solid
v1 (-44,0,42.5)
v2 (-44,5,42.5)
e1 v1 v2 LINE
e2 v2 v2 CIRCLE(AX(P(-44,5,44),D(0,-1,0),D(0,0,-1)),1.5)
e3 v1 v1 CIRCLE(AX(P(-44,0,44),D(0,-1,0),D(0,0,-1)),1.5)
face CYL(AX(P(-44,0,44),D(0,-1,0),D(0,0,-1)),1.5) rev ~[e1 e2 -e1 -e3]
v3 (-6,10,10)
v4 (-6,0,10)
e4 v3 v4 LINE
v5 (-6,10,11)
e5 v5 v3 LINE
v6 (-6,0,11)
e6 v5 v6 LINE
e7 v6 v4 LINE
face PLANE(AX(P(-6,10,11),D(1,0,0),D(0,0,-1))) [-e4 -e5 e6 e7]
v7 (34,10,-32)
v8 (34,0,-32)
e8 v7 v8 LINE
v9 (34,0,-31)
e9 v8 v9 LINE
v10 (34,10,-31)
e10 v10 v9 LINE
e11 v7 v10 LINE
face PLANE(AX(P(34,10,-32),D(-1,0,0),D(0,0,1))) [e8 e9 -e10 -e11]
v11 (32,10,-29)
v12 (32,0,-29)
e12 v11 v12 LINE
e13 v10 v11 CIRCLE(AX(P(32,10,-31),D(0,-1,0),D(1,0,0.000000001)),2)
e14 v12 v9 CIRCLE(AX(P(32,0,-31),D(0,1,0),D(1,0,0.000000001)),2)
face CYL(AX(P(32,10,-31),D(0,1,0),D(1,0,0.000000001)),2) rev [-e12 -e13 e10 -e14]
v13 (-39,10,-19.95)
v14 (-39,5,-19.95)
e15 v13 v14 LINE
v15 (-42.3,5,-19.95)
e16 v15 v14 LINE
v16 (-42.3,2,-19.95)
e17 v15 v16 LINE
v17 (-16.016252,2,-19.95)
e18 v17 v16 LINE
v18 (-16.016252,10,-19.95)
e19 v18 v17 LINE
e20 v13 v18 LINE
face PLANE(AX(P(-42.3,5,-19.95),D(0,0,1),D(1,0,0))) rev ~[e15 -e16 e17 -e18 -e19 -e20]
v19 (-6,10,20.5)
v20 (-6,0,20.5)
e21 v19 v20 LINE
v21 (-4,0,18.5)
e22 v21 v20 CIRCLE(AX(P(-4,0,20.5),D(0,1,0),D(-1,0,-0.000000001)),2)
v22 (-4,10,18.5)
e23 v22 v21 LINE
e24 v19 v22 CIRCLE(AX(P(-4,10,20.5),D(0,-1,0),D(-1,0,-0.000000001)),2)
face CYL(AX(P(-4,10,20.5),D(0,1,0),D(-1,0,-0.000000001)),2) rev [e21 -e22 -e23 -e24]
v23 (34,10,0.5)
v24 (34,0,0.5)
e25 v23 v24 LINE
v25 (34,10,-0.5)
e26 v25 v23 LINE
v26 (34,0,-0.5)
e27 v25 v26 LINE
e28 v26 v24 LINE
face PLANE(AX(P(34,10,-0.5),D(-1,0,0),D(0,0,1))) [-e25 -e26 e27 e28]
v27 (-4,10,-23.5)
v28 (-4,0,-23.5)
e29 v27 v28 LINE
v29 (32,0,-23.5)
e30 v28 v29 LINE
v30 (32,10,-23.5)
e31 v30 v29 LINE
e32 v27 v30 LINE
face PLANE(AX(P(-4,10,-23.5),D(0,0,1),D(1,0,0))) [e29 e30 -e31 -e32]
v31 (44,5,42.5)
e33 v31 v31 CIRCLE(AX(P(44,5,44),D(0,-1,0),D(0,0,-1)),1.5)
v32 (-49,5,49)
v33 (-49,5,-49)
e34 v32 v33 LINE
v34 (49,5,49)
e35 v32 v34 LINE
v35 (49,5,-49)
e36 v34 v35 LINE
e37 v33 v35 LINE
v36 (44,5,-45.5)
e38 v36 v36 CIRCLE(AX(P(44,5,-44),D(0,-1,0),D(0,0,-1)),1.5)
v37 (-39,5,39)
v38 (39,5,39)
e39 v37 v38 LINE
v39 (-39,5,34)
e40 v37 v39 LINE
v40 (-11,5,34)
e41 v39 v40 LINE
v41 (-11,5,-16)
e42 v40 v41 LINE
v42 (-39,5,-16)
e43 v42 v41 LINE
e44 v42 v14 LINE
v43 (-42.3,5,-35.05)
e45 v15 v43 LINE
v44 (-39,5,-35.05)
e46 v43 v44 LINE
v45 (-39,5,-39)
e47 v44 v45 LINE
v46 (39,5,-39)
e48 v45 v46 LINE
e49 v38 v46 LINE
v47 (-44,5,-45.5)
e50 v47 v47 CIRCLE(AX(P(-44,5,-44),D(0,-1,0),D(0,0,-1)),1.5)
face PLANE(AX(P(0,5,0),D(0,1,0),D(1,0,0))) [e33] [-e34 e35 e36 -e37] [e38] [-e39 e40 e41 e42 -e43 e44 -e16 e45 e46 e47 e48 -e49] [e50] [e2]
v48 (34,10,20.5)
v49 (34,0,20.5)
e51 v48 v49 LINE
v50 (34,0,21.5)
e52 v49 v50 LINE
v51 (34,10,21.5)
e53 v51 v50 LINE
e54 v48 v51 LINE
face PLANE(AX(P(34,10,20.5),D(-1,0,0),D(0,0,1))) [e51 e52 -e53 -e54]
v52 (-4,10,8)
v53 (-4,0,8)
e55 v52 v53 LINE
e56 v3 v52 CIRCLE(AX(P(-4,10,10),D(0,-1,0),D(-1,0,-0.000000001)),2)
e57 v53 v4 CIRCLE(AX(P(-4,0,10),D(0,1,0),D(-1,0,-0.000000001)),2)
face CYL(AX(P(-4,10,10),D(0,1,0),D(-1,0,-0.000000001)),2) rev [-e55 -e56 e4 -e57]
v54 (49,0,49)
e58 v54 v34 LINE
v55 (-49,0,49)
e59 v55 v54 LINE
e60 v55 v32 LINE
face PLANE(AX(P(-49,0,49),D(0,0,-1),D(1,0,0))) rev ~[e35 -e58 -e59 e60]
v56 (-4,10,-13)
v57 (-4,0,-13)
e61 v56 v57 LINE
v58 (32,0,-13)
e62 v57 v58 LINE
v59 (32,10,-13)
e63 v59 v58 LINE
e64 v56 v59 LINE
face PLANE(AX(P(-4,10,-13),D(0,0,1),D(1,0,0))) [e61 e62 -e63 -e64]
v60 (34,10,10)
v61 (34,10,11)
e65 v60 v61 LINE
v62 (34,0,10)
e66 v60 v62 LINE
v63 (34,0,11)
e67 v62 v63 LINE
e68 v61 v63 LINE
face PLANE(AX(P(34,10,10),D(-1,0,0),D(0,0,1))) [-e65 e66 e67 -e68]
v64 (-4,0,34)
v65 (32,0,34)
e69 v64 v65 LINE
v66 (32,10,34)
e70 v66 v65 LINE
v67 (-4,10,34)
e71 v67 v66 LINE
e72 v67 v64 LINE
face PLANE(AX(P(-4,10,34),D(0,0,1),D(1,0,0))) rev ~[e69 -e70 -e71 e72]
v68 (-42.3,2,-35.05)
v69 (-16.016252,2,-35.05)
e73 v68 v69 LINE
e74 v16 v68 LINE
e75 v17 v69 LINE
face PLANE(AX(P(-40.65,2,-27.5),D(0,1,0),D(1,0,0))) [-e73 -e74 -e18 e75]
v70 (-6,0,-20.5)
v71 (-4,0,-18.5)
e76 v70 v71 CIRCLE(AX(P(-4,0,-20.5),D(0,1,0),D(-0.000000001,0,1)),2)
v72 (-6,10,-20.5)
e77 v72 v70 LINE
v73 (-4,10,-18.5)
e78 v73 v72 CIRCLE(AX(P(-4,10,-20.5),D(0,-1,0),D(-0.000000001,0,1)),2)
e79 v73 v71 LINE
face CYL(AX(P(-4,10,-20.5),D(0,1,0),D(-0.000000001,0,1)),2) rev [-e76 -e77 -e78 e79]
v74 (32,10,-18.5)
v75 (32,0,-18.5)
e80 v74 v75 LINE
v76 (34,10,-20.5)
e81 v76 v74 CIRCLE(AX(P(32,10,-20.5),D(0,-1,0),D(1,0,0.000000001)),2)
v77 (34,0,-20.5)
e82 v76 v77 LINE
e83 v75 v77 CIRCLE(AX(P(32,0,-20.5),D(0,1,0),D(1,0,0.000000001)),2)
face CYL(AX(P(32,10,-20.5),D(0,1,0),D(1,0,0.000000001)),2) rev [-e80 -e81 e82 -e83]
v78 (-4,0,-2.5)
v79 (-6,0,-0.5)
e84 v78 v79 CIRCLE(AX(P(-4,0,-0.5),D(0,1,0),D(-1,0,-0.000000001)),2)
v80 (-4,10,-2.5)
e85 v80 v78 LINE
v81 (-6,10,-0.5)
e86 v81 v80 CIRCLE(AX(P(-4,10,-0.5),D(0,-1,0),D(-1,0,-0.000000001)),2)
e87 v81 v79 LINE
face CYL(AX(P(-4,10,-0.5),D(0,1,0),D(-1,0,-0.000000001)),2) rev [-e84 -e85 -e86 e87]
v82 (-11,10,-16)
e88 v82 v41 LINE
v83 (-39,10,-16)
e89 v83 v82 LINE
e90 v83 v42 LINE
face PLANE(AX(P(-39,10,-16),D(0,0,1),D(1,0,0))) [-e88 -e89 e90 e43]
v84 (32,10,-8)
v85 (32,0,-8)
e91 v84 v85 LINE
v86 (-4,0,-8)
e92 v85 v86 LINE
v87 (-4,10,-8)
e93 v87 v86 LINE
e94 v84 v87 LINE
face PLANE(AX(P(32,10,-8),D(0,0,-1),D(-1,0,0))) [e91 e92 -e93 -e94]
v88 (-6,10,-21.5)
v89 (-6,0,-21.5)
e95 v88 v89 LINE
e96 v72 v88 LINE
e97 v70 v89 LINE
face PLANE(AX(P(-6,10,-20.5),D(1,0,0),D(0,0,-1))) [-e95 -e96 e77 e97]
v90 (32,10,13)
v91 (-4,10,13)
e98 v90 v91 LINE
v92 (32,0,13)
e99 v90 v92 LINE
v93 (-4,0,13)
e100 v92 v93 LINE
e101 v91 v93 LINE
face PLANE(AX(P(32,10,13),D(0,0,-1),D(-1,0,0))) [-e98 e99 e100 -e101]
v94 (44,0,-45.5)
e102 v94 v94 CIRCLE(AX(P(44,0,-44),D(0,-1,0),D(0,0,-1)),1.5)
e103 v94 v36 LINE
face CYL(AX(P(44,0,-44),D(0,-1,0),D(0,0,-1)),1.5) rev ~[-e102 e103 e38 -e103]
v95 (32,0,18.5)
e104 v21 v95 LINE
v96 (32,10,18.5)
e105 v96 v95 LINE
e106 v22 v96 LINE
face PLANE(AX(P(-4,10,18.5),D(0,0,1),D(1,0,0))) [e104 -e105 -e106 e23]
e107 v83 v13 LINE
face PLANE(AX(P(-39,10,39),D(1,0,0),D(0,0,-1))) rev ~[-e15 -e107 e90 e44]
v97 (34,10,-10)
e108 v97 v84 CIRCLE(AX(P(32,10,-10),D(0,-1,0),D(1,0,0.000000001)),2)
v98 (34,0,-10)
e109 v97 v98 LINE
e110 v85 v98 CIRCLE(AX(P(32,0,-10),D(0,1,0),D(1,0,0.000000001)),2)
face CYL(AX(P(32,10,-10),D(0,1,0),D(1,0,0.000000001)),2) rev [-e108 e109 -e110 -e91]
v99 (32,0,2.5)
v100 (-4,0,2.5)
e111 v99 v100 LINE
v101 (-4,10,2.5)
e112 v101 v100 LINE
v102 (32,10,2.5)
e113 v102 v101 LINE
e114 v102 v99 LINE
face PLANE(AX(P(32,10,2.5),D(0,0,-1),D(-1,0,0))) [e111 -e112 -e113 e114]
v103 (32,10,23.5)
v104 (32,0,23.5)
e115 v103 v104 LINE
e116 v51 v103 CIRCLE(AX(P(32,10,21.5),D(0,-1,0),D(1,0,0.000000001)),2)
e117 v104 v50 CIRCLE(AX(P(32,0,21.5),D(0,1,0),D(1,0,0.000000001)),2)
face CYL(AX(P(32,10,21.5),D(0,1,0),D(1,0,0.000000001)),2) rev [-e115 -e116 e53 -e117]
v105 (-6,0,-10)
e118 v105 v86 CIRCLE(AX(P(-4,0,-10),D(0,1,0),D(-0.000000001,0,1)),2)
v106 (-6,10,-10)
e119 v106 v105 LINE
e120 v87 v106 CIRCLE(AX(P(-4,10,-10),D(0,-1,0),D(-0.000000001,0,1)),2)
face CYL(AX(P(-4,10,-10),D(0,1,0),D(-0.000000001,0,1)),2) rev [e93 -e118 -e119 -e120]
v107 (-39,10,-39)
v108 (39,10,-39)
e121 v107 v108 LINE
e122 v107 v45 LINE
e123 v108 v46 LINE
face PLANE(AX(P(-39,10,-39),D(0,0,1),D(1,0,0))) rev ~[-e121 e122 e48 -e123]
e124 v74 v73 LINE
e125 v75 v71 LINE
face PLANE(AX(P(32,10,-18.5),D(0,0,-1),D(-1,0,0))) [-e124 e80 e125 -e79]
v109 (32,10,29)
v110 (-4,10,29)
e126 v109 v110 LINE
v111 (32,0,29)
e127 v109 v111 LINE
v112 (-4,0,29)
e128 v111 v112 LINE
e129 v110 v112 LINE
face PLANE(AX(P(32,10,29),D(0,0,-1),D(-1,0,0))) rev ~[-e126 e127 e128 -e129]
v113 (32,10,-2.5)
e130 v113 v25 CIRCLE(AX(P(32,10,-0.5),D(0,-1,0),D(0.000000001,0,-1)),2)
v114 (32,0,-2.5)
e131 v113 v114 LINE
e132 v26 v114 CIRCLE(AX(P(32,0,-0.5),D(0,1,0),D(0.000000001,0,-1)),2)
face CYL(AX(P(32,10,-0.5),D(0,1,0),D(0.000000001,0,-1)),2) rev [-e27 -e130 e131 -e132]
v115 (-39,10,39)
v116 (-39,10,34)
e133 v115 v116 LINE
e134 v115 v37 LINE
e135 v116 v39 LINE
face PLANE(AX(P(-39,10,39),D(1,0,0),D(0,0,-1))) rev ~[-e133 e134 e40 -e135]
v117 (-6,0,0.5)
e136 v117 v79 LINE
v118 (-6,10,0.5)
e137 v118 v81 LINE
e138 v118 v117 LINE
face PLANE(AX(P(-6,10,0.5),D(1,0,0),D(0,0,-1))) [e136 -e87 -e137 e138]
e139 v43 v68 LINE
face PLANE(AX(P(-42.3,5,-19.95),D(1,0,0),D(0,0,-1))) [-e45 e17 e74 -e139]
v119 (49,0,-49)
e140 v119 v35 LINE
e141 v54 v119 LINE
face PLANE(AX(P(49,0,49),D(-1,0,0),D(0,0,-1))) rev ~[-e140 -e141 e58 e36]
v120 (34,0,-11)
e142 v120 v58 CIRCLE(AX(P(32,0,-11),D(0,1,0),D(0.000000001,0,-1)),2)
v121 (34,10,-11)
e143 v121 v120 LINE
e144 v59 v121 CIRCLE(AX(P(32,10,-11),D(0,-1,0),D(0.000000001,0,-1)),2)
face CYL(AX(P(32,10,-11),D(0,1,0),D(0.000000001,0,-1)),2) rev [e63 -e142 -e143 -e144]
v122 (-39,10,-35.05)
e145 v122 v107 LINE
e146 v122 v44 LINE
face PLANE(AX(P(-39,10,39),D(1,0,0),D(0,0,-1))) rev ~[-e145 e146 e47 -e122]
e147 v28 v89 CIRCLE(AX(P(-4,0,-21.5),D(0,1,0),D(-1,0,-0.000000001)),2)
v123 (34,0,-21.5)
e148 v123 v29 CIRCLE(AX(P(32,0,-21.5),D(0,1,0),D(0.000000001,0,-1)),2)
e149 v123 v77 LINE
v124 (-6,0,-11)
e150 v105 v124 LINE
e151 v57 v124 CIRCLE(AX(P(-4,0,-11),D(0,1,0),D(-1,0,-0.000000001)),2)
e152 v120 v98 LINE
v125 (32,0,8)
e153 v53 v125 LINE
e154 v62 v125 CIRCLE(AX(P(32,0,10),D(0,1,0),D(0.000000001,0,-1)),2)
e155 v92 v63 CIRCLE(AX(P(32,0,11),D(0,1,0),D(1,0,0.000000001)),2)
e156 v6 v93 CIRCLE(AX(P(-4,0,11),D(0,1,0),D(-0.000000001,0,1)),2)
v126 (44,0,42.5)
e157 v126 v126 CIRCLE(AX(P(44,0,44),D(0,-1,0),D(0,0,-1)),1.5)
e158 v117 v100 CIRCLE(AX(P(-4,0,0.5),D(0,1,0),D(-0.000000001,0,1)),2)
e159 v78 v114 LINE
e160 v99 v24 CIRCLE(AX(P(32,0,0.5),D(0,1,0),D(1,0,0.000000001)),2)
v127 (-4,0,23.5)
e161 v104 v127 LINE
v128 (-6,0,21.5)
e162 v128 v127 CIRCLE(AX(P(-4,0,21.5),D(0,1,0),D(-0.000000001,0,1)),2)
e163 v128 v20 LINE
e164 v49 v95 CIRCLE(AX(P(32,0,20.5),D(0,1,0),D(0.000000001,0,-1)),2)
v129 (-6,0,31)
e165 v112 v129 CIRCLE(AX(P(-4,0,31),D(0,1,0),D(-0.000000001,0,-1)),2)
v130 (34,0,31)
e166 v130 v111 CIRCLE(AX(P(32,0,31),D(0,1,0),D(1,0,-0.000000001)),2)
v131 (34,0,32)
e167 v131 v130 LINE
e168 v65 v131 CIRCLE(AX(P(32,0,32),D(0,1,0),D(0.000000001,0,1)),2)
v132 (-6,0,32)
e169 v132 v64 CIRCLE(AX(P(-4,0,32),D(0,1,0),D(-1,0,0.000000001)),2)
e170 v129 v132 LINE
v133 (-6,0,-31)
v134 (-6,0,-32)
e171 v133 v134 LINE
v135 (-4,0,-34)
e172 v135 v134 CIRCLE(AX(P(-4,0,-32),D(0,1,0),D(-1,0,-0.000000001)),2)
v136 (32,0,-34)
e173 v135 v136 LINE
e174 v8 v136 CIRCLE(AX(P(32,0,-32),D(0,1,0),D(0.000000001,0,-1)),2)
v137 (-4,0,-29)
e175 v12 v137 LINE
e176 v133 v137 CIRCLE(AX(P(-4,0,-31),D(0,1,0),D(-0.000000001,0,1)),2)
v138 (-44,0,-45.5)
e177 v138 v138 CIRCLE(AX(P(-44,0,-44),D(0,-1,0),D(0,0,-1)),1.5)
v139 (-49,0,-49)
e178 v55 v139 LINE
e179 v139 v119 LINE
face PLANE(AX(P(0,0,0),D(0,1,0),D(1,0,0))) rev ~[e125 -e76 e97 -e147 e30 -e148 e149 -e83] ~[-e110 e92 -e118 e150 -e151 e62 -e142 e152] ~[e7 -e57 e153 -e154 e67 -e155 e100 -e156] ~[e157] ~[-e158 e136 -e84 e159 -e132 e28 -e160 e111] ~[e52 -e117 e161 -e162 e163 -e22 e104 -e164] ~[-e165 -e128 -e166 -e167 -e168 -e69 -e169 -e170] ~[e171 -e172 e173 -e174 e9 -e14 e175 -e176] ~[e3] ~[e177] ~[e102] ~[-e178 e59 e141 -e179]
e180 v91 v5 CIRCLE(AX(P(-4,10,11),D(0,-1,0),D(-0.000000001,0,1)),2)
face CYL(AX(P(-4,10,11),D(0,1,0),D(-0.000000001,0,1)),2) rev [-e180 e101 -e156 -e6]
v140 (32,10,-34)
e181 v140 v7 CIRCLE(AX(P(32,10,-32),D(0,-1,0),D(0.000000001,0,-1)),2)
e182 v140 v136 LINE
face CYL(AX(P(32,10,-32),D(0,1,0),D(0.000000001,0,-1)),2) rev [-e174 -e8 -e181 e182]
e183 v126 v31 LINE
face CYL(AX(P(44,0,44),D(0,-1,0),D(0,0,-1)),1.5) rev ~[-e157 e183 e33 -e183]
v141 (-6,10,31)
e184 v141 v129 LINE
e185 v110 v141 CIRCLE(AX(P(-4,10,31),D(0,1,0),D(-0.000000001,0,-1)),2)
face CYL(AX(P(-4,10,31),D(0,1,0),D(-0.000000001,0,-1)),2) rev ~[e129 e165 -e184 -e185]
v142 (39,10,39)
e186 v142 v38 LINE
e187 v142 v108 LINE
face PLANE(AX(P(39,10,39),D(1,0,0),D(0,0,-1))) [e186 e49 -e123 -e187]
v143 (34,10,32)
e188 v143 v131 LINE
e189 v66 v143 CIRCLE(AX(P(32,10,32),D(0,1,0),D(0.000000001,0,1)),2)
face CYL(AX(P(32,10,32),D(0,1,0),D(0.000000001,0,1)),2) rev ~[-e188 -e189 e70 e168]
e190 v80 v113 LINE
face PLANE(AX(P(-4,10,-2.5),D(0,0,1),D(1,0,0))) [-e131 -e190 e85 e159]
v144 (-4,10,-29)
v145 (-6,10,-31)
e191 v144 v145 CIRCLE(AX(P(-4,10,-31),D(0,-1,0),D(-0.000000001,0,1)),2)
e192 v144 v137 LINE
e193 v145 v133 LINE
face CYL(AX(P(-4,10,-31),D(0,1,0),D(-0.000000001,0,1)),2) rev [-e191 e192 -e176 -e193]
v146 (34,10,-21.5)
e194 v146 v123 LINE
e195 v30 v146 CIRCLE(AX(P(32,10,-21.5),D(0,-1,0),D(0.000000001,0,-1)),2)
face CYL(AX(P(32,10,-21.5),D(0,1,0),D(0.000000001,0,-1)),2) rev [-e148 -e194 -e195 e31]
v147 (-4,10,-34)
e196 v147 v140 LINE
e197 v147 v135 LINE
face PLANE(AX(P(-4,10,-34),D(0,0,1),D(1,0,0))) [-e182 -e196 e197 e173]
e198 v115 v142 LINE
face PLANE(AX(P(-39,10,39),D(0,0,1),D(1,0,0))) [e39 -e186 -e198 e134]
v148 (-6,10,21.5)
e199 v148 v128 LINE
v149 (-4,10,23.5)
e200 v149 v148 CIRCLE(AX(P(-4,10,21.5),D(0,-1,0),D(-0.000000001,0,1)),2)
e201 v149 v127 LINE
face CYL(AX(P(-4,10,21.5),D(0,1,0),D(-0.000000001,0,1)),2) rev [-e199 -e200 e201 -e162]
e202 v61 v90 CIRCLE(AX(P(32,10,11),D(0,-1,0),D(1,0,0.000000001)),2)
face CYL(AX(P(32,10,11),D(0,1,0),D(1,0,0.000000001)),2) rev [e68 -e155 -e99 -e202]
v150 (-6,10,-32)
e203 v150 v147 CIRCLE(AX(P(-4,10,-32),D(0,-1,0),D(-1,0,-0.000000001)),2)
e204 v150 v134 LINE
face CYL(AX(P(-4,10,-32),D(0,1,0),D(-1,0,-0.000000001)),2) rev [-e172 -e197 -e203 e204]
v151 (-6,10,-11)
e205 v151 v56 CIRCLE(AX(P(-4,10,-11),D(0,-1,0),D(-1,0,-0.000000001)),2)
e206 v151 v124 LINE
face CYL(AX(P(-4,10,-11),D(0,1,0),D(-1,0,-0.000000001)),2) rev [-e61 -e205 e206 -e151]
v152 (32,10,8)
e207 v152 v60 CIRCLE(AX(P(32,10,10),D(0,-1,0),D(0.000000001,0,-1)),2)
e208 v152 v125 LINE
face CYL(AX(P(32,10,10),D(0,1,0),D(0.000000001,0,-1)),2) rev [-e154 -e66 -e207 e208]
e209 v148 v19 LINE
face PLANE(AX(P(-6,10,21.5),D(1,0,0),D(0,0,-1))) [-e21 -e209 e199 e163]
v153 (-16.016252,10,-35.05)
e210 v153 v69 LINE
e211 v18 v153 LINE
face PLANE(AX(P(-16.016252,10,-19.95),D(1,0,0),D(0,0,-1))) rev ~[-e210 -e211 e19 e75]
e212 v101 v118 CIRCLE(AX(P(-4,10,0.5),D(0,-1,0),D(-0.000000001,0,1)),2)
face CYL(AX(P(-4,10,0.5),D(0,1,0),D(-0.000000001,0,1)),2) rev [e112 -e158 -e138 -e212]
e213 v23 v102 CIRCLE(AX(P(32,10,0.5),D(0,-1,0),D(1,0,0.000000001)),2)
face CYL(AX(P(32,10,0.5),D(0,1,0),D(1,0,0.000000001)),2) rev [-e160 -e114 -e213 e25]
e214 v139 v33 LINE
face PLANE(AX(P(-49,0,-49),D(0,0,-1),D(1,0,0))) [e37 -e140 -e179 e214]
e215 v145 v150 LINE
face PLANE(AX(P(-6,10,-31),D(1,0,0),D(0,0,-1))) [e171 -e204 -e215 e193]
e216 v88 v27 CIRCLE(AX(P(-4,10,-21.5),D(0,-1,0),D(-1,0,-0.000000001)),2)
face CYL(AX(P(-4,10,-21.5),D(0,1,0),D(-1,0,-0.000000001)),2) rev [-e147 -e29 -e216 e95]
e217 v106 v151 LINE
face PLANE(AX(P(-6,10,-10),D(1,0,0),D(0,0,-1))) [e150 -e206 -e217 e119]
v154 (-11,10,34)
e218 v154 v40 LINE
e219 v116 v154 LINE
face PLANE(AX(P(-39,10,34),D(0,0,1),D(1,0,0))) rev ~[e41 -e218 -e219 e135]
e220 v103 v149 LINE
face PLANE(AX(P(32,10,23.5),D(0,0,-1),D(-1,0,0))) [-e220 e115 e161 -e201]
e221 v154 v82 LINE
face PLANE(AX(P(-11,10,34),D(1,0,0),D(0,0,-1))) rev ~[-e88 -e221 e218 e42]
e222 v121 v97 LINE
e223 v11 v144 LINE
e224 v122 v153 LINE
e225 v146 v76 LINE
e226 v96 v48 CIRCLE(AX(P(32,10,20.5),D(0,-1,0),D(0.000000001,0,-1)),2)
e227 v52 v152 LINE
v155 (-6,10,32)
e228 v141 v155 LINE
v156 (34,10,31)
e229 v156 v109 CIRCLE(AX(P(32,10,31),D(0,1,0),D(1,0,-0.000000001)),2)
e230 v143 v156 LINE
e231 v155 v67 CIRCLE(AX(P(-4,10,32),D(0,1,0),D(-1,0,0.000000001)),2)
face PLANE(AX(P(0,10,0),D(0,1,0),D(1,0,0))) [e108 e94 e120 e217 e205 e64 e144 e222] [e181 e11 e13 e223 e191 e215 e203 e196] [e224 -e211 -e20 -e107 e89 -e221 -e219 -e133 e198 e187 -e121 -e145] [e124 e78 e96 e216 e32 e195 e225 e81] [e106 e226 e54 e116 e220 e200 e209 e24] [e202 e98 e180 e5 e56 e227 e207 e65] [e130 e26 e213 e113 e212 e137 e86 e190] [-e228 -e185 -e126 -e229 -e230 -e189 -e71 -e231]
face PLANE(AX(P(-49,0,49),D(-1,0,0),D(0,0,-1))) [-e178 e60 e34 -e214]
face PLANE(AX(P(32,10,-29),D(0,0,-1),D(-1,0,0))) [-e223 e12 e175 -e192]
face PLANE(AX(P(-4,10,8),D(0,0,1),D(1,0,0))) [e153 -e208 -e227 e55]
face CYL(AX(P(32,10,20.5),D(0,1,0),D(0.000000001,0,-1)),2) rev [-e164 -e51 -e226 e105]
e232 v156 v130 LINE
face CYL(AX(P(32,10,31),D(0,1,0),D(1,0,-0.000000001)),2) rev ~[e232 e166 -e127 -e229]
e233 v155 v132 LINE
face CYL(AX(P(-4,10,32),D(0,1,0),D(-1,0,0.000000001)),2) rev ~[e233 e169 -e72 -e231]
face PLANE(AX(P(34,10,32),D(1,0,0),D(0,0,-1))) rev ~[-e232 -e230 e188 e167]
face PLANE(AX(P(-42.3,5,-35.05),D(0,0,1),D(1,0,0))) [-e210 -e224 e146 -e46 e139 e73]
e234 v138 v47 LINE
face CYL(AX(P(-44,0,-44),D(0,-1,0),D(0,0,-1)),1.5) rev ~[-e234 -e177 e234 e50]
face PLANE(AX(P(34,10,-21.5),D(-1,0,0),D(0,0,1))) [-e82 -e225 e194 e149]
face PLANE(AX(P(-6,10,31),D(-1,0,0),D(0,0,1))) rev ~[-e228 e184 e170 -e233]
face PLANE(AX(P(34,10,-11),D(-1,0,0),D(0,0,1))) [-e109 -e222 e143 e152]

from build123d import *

# Parameters (mm, degrees)
SKETCH1_W           = 98
SKETCH1_H           = 98
BOSS_EXTRUDE1_DEPTH = 10
SKETCH8_W           = 98
SKETCH8_H           = 98
SKETCH8_W_2         = 78
SKETCH8_H_2         = 78
CUT_EXTRUDE5_DEPTH  = 5
SKETCH9_W           = 28
SKETCH9_H           = 50
CUT_EXTRUDE6_DEPTH  = 5
SKETCH11_W          = 22.983747508
SKETCH11_H          = 15.1
CUT_EXTRUDE7_DEPTH  = 8
SKETCH12_W          = 3.3
SKETCH12_H          = 15.1
CUT_EXTRUDE8_DEPTH  = 3
CUT_EXTRUDE10_DEPTH = 16
SKETCH14_R          = 1.5
CUT_EXTRUDE11_DEPTH = 10


with BuildPart() as part:
    # Sketch1 → Boss-Extrude1 (new body)
    with BuildSketch(Plane(origin=(0, 0, 0), x_dir=(1, 0, 0), z_dir=(0, 1, 0))):
        Rectangle(SKETCH1_W, SKETCH1_H)
    extrude(amount=BOSS_EXTRUDE1_DEPTH)

    # Sketch8 → Cut-Extrude5 (cut)
    with BuildSketch(Plane(origin=(0, 10, 0), x_dir=(1, 0, 0), z_dir=(0, 1, 0))):
        Rectangle(SKETCH8_W, SKETCH8_H)
        Rectangle(SKETCH8_W_2, SKETCH8_H_2, mode=Mode.SUBTRACT)
    extrude(amount=-CUT_EXTRUDE5_DEPTH, mode=Mode.SUBTRACT)

    # Sketch9 → Cut-Extrude6 (cut)
    with BuildSketch(Plane(origin=(0, 10, 0), x_dir=(1, 0, 0), z_dir=(0, 1, 0))):
        with Locations((-25, -9)):
            Rectangle(SKETCH9_W, SKETCH9_H)
    extrude(amount=-CUT_EXTRUDE6_DEPTH, mode=Mode.SUBTRACT)

    # Sketch11 → Cut-Extrude7 (cut)
    with BuildSketch(Plane(origin=(0, 10, 0), x_dir=(1, 0, 0), z_dir=(0, 1, 0))):
        with Locations((-27.508126246, 27.5)):
            Rectangle(SKETCH11_W, SKETCH11_H)
    extrude(amount=-CUT_EXTRUDE7_DEPTH, mode=Mode.SUBTRACT)

    # Sketch12 → Cut-Extrude8 (cut)
    with BuildSketch(Plane(origin=(0, 5, 0), x_dir=(1, 0, 0), z_dir=(0, 1, 0))):
        with Locations((-40.65, 27.5)):
            Rectangle(SKETCH12_W, SKETCH12_H)
    extrude(amount=-CUT_EXTRUDE8_DEPTH, mode=Mode.SUBTRACT)

    # Sketch13 → Cut-Extrude10 (cut)
    with BuildSketch(Plane(origin=(0, 10, 0), x_dir=(1, 0, 0), z_dir=(0, 1, 0))):
        with BuildLine():
            Line((-4, -18.5), (32, -18.5))
            ThreePointArc((32, -18.5), (33.414213562, -19.085786438), (34, -20.5))
            Line((34, -20.5), (34, -21.5))
            ThreePointArc((34, -21.5), (33.414213562, -22.914213562), (32, -23.5))
            Line((32, -23.5), (-4, -23.5))
            ThreePointArc((-4, -23.5), (-5.414213562, -22.914213562), (-6, -21.5))
            Line((-6, -21.5), (-6, -20.5))
            ThreePointArc((-6, -20.5), (-5.414213562, -19.085786438), (-4, -18.5))
        make_face()
        with BuildLine():
            Line((-4, -34), (32, -34))
            ThreePointArc((32, -34), (33.414213562, -33.414213562), (34, -32))
            Line((34, -32), (34, -31))
            ThreePointArc((34, -31), (33.414213562, -29.585786438), (32, -29))
            Line((32, -29), (-4, -29))
            ThreePointArc((-4, -29), (-5.414213562, -29.585786438), (-6, -31))
            Line((-6, -31), (-6, -32))
            ThreePointArc((-6, -32), (-5.414213562, -33.414213562), (-4, -34))
        make_face()
        with BuildLine():
            Line((-4, -8), (32, -8))
            ThreePointArc((32, -8), (33.414213562, -8.585786438), (34, -10))
            Line((34, -10), (34, -11))
            ThreePointArc((34, -11), (33.414213562, -12.414213562), (32, -13))
            Line((32, -13), (-4, -13))
            ThreePointArc((-4, -13), (-5.414213562, -12.414213562), (-6, -11))
            Line((-6, -11), (-6, -10))
            ThreePointArc((-6, -10), (-5.414213562, -8.585786438), (-4, -8))
        make_face()
        with BuildLine():
            Line((-4, 2.5), (32, 2.5))
            ThreePointArc((32, 2.5), (33.414213562, 1.914213562), (34, 0.5))
            Line((34, 0.5), (34, -0.5))
            ThreePointArc((34, -0.5), (33.414213562, -1.914213562), (32, -2.5))
            Line((32, -2.5), (-4, -2.5))
            ThreePointArc((-4, -2.5), (-5.414213562, -1.914213562), (-6, -0.5))
            Line((-6, -0.5), (-6, 0.5))
            ThreePointArc((-6, 0.5), (-5.414213562, 1.914213562), (-4, 2.5))
        make_face()
        with BuildLine():
            Line((-4, 13), (32, 13))
            ThreePointArc((32, 13), (33.414213562, 12.414213562), (34, 11))
            Line((34, 11), (34, 10))
            ThreePointArc((34, 10), (33.414213562, 8.585786438), (32, 8))
            Line((32, 8), (-4, 8))
            ThreePointArc((-4, 8), (-5.414213562, 8.585786438), (-6, 10))
            Line((-6, 10), (-6, 11))
            ThreePointArc((-6, 11), (-5.414213562, 12.414213562), (-4, 13))
        make_face()
        with BuildLine():
            Line((-4, 23.5), (32, 23.5))
            ThreePointArc((32, 23.5), (33.414213562, 22.914213562), (34, 21.5))
            Line((34, 21.5), (34, 20.5))
            ThreePointArc((34, 20.5), (33.414213562, 19.085786438), (32, 18.5))
            Line((32, 18.5), (-4, 18.5))
            ThreePointArc((-4, 18.5), (-5.414213562, 19.085786438), (-6, 20.5))
            Line((-6, 20.5), (-6, 21.5))
            ThreePointArc((-6, 21.5), (-5.414213562, 22.914213562), (-4, 23.5))
        make_face()
        with BuildLine():
            Line((-4, 34), (32, 34))
            ThreePointArc((32, 34), (33.414213562, 33.414213562), (34, 32))
            Line((34, 32), (34, 31))
            ThreePointArc((34, 31), (33.414213562, 29.585786438), (32, 29))
            Line((32, 29), (-4, 29))
            ThreePointArc((-4, 29), (-5.414213562, 29.585786438), (-6, 31))
            Line((-6, 31), (-6, 32))
            ThreePointArc((-6, 32), (-5.414213562, 33.414213562), (-4, 34))
        make_face()
    extrude(amount=-CUT_EXTRUDE10_DEPTH, mode=Mode.SUBTRACT)

    # Sketch14 → Cut-Extrude11 (cut)
    with BuildSketch(Plane.XZ):
        with Locations(Location((-44, -44, 0), (0, 0, 270))):
            Circle(SKETCH14_R)
        with Locations(Location((-44, 44, 0), (0, 0, 270))):
            Circle(SKETCH14_R)
        with Locations(Location((44, 44, 0), (0, 0, 270))):
            Circle(SKETCH14_R)
        with Locations(Location((44, -44, 0), (0, 0, 270))):
            Circle(SKETCH14_R)
    extrude(amount=-CUT_EXTRUDE11_DEPTH, mode=Mode.SUBTRACT)


solid = part.part
